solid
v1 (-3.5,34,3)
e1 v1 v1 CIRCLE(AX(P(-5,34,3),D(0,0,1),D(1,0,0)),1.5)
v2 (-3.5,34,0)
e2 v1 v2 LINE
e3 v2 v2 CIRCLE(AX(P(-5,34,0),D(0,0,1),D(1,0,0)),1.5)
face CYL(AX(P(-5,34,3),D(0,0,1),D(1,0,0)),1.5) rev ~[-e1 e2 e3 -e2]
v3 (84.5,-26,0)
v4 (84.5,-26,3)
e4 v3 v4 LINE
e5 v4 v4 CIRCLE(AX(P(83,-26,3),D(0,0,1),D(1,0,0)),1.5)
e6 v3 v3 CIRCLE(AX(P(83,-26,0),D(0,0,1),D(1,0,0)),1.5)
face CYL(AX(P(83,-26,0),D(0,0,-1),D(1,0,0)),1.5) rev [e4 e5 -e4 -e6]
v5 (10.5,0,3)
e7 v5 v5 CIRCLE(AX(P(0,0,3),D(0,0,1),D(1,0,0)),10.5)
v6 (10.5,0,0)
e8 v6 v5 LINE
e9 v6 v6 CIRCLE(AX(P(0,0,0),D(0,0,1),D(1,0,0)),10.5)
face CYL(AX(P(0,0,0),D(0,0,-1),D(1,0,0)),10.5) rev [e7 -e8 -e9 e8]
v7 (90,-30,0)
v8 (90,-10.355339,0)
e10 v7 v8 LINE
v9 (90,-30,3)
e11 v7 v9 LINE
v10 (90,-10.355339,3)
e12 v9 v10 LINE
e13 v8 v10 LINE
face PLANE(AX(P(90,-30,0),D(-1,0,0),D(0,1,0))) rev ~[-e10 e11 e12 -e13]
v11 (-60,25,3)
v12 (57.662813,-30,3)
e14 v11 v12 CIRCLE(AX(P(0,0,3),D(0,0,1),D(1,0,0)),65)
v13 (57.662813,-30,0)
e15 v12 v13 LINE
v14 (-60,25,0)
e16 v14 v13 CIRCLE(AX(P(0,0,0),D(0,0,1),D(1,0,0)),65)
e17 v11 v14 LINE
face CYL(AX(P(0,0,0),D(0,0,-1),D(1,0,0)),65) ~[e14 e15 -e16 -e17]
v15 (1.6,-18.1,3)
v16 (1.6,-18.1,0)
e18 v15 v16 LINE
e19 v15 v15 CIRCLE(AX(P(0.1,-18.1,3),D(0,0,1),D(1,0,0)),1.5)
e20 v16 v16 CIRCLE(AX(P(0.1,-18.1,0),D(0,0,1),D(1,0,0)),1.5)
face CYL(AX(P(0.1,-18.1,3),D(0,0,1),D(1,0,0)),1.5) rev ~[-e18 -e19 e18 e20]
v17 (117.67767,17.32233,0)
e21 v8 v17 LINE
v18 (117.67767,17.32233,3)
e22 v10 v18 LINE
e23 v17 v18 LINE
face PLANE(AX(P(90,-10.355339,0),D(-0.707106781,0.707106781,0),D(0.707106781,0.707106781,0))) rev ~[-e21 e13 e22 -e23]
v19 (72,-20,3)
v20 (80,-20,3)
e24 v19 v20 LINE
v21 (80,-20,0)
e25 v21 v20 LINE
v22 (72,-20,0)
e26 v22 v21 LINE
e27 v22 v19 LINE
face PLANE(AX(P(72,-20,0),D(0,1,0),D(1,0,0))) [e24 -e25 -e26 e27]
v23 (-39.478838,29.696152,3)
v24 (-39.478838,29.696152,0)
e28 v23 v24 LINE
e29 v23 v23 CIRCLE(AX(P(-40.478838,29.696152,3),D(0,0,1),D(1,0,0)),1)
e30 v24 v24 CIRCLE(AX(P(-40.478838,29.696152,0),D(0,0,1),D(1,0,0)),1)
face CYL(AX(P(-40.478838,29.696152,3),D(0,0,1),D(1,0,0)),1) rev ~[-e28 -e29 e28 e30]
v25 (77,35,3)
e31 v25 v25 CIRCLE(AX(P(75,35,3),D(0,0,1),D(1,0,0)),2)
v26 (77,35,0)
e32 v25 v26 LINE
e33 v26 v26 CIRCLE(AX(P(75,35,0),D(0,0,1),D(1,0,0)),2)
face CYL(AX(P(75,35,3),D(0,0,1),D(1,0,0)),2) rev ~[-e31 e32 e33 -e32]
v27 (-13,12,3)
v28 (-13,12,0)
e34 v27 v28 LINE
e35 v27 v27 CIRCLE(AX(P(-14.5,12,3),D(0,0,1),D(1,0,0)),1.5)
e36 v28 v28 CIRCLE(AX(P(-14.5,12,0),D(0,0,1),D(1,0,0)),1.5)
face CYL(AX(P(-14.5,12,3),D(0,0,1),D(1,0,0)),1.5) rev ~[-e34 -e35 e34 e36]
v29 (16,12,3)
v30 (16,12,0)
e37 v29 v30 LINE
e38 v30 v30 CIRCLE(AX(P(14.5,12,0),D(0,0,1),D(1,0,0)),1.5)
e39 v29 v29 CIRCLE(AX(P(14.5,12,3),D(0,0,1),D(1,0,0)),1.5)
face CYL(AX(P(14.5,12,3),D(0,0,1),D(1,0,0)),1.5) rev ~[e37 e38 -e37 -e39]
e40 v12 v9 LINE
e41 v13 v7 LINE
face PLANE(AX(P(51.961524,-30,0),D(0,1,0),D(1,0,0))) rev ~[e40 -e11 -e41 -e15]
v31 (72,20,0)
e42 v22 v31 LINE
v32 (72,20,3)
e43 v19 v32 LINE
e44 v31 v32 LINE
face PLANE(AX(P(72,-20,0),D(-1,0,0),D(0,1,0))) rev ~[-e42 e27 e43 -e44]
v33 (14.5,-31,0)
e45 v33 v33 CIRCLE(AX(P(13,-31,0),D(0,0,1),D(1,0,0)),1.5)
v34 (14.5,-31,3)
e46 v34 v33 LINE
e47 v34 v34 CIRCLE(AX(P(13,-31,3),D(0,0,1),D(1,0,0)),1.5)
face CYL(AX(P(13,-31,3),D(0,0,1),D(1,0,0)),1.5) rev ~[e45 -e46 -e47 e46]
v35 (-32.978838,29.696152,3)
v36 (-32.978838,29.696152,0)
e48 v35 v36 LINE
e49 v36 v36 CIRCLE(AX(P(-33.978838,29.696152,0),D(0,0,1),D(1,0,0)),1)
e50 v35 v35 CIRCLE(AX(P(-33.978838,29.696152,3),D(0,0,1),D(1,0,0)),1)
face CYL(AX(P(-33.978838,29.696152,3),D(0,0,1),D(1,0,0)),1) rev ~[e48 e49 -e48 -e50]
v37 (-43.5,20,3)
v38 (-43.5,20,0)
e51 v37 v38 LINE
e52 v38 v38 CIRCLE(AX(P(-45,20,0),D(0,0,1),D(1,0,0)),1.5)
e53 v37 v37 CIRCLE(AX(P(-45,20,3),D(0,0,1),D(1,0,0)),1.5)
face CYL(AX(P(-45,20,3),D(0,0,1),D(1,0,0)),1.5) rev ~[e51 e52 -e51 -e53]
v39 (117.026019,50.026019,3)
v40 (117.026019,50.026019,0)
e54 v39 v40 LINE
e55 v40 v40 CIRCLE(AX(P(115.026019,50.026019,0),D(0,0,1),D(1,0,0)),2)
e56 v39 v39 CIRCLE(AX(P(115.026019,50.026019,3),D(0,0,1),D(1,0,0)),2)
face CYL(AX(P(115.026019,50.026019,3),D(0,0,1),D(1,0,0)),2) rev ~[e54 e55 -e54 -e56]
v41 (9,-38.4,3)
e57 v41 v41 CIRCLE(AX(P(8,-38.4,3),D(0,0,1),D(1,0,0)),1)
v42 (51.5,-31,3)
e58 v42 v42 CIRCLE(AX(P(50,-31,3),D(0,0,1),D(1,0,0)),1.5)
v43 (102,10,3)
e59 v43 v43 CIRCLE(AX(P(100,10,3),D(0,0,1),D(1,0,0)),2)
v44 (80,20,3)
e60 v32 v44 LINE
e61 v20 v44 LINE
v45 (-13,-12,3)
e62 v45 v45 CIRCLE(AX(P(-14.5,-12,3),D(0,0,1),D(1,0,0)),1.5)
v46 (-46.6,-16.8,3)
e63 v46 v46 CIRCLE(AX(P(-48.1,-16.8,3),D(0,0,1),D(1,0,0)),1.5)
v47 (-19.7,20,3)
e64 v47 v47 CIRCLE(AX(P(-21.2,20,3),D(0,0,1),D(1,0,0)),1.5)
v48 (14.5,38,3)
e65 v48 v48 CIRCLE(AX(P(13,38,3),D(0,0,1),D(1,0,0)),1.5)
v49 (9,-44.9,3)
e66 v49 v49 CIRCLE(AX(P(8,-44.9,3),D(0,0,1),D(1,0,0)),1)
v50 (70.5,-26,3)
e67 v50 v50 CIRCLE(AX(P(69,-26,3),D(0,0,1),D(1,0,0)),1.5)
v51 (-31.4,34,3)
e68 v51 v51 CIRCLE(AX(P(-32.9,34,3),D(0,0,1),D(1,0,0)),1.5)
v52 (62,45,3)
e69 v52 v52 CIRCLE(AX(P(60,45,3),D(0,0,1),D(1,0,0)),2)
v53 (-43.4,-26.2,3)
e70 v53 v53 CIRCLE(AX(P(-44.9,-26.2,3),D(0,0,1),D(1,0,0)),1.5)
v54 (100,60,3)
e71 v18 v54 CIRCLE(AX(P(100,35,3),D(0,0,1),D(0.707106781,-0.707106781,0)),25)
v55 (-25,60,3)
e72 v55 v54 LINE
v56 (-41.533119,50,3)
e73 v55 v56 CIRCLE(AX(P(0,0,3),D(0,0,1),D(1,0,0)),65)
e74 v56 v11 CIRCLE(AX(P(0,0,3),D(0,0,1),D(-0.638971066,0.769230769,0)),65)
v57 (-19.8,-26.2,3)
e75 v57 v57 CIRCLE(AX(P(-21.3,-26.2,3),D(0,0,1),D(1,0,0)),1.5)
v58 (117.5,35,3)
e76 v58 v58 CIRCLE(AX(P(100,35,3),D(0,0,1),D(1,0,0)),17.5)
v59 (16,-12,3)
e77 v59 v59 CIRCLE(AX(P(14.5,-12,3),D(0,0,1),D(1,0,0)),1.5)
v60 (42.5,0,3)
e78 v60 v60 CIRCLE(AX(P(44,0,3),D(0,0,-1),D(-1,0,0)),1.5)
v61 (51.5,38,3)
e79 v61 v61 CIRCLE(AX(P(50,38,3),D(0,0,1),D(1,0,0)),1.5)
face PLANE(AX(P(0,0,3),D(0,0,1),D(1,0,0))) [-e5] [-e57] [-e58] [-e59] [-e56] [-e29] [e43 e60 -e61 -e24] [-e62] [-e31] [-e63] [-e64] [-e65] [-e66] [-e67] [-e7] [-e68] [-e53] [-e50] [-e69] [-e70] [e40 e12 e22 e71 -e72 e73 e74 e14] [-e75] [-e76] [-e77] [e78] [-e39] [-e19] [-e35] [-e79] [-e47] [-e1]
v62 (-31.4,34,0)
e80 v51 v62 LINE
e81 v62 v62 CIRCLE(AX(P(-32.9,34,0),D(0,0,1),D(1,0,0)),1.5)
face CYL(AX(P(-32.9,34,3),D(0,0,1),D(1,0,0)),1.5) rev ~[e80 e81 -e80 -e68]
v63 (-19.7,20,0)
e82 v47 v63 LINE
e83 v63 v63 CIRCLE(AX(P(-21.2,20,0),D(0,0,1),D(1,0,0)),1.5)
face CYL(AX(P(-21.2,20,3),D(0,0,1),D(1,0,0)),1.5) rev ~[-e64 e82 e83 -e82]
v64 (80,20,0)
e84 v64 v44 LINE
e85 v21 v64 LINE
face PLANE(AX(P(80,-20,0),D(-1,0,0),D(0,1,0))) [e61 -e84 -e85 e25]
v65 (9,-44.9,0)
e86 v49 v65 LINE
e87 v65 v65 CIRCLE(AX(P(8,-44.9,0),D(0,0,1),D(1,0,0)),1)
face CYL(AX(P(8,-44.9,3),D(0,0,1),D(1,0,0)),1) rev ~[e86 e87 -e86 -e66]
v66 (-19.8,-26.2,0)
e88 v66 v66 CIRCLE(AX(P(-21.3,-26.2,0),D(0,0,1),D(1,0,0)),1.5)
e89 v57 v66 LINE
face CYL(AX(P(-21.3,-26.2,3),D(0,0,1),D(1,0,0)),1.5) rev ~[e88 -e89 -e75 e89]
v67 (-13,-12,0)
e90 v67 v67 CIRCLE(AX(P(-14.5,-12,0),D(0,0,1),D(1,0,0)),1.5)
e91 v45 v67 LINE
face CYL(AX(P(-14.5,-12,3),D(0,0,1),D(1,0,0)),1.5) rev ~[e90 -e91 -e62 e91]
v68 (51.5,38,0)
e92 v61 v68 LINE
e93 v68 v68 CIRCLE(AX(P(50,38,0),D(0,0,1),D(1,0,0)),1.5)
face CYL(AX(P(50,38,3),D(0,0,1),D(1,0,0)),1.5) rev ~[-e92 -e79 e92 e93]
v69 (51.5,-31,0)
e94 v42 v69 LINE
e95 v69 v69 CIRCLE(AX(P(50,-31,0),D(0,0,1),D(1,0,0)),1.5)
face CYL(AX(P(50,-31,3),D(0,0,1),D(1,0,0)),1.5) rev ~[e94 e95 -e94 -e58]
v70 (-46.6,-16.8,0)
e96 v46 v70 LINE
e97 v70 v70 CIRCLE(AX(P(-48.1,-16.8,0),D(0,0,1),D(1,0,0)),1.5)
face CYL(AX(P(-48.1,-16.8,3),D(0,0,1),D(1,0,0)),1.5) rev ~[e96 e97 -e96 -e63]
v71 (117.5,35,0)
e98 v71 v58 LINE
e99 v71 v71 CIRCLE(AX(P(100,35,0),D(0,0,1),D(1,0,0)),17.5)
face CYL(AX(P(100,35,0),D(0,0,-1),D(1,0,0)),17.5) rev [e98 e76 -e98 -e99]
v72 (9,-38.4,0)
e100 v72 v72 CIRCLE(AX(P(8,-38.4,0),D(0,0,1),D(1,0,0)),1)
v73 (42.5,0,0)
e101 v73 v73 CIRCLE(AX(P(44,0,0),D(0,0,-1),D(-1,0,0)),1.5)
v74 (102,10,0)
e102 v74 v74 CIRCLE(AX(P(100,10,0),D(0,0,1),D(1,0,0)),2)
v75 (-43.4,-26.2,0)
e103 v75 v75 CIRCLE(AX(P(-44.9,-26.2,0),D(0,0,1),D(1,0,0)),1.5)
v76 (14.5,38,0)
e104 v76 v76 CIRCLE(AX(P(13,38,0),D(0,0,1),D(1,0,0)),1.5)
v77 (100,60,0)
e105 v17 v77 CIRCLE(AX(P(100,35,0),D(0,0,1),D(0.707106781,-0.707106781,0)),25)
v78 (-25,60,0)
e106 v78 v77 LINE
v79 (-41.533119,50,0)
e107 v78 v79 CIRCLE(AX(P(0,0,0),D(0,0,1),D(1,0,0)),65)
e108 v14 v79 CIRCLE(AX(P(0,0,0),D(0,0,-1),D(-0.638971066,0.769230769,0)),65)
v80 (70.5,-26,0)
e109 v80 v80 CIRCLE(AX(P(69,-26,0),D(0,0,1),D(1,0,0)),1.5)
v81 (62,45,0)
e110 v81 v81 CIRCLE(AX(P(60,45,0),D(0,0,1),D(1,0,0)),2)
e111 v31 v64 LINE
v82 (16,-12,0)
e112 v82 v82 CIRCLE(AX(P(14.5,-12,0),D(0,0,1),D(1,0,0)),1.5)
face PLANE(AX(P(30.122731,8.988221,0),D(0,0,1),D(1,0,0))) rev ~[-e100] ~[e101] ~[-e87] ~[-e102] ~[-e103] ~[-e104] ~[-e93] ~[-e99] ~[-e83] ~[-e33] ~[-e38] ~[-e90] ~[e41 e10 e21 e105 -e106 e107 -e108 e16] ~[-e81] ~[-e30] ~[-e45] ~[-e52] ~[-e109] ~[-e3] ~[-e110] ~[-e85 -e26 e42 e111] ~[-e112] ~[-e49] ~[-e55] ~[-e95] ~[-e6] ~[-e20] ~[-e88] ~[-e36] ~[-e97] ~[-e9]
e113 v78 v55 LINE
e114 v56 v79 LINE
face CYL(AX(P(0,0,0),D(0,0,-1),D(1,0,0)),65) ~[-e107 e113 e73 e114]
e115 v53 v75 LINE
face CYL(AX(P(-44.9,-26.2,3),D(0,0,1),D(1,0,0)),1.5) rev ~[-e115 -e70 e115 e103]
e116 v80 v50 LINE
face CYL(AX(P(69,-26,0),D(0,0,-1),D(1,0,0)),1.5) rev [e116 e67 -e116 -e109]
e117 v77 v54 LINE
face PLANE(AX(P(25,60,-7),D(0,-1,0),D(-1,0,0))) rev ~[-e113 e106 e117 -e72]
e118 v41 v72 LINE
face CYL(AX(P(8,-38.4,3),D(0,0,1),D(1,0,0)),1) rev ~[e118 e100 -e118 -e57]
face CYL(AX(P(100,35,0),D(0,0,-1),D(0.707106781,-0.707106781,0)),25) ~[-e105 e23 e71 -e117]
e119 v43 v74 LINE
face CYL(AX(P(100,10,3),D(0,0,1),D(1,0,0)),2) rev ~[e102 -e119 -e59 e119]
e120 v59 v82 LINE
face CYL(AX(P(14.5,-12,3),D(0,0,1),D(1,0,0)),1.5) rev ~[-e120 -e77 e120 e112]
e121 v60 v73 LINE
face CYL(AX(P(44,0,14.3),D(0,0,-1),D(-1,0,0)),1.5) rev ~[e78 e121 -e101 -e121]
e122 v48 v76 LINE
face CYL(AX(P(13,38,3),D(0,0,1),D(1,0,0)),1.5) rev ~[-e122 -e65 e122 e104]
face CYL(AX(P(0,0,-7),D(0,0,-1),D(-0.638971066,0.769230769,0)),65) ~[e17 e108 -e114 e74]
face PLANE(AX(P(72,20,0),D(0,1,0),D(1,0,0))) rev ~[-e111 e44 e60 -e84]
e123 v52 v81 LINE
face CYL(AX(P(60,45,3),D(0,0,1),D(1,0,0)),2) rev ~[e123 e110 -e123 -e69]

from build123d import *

# Parameters (mm, degrees)
SKETCH1_R                 = 10.5
SKETCH1_R_2               = 1.5
SKETCH1_W                 = 8
SKETCH1_H                 = 40
SKETCH1_R_3               = 17.5
BOSS_EXTRUDE1_DEPTH       = 3
CUT_EXTRUDE1_REACH        = 140.687
SKETCH2_R                 = 2
CUT_EXTRUDE2_REACH        = 140.687
SKETCH3_R                 = 2
BOSS_EXTRUDE2_START       = -3
SKETCH4_R                 = 65
SKETCH4_R_2               = 60
BOSS_EXTRUDE2_DEPTH       = 3
CUT_EXTRUDE3_START        = -10
CUT_EXTRUDE3_DEPTH        = 10
CUT_EXTRUDE4_START        = -10
CUT_EXTRUDE4_DEPTH        = 10
CUT_EXTRUDE5_REACH        = 142.922
SKETCH7_R                 = 1.5
CUT_EXTRUDE6_REACH        = 142.922
SKETCH8_R                 = 1.5
CUT_EXTRUDE7_REACH        = 142.922
SKETCH9_R                 = 1.5
F_3_0MM_DOWEL_HOLE1_D     = 3
F_3_0MM_DOWEL_HOLE1_DEPTH = 11.3
F_3_0MM_DOWEL_HOLE1_TIP   = 0.901290929
CUT_EXTRUDE8_REACH        = 142.922
SKETCH13_R                = 1


with BuildPart() as part:
    # Sketch1 → Boss-Extrude1 (new body)
    # profile 1 of 2: a face of its own
    with BuildSketch(Plane.XY):
        with BuildLine():
            ThreePointArc((-60, 0), (-52.867640737, 28.372743309), (-33.166247904, 50))
            Line((-33.166247904, 50), (-60, 50))
            Line((-60, 50), (-60, 0))
        make_face()
    # profile 2 of 2: a face of its own
    with BuildSketch(Plane.XY):
        with BuildLine():
            ThreePointArc((0, 60), (-17.320508076, 57.445626465), (-33.166247904, 50))
            ThreePointArc((-33.166247904, 50), (-52.867640737, 28.372743309), (-60, 0))
            ThreePointArc((-60, 0), (-15.529142706, -57.955549577), (51.961524227, -30))
            Line((51.961524227, -30), (56.568542495, -30))
            Line((56.568542495, -30), (90, -30))
            Line((90, -30), (90, -10.355339059))
            Line((90, -10.355339059), (117.67766953, 17.32233047))
            ThreePointArc((117.67766953, 17.32233047), (123.096988313, 44.567085809), (100, 60))
            Line((100, 60), (0, 60))
        make_face()
        Circle(SKETCH1_R, mode=Mode.SUBTRACT)
        with Locations((69, -26)):
            Circle(SKETCH1_R_2, mode=Mode.SUBTRACT)
        with Locations((76, 0)):
            Rectangle(SKETCH1_W, SKETCH1_H, mode=Mode.SUBTRACT)
        with Locations((83, -26)):
            Circle(SKETCH1_R_2, mode=Mode.SUBTRACT)
        with Locations((100, 35)):
            Circle(SKETCH1_R_3, mode=Mode.SUBTRACT)
    extrude(amount=BOSS_EXTRUDE1_DEPTH)

    # Sketch2 → Cut-Extrude1 (cut, up to next)
    with BuildSketch(Plane.XY.offset(3), mode=Mode.PRIVATE) as cut_extrude1_sk1:
        with Locations((60, 45)):
            Circle(SKETCH2_R)
    cut_extrude1_tool1 = extrude(cut_extrude1_sk1.sketch, amount=-CUT_EXTRUDE1_REACH, mode=Mode.PRIVATE) & part.part
    add(cut_extrude1_tool1.solids().sort_by_distance((60, 45, 3))[0], mode=Mode.SUBTRACT)

    # Sketch3 → Cut-Extrude2 (cut, up to next)
    with BuildSketch(Plane.XY.offset(3), mode=Mode.PRIVATE) as cut_extrude2_sk1:
        with Locations((100, 10)):
            Circle(SKETCH3_R)
    cut_extrude2_tool1 = extrude(cut_extrude2_sk1.sketch, amount=-CUT_EXTRUDE2_REACH, mode=Mode.PRIVATE) & part.part
    # Sketch3 → Cut-Extrude2 (cut, up to next)
    with BuildSketch(Plane.XY.offset(3), mode=Mode.PRIVATE) as cut_extrude2_sk2:
        with Locations((75, 35)):
            Circle(SKETCH3_R)
    cut_extrude2_tool2 = extrude(cut_extrude2_sk2.sketch, amount=-CUT_EXTRUDE2_REACH, mode=Mode.PRIVATE) & part.part
    # Sketch3 → Cut-Extrude2 (cut, up to next)
    with BuildSketch(Plane.XY.offset(3), mode=Mode.PRIVATE) as cut_extrude2_sk3:
        with Locations((115.0260191, 50.0260191)):
            Circle(SKETCH3_R)
    cut_extrude2_tool3 = extrude(cut_extrude2_sk3.sketch, amount=-CUT_EXTRUDE2_REACH, mode=Mode.PRIVATE) & part.part
    add(cut_extrude2_tool1.solids().sort_by_distance((100, 10, 3))[0], mode=Mode.SUBTRACT)
    add(cut_extrude2_tool2.solids().sort_by_distance((75, 35, 3))[0], mode=Mode.SUBTRACT)
    add(cut_extrude2_tool3.solids().sort_by_distance((115.026019, 50.026019, 3))[0], mode=Mode.SUBTRACT)

    # Sketch4 → Boss-Extrude2 (add)
    with BuildSketch(Plane.XY.offset(3).offset(BOSS_EXTRUDE2_START)):
        Circle(SKETCH4_R)
        Circle(SKETCH4_R_2, mode=Mode.SUBTRACT)
    extrude(amount=BOSS_EXTRUDE2_DEPTH)

    # Sketch5 → Cut-Extrude3 (cut)
    with BuildSketch(Plane.XY.offset(3).offset(CUT_EXTRUDE3_START)):
        with BuildLine():
            Line((-60, 50), (-41.533119315, 50))
            ThreePointArc((-41.533119315, 50), (-52.282822987, 38.62002616), (-60, 25))
            Line((-60, 25), (-60, 50))
        make_face()
    extrude(amount=CUT_EXTRUDE3_DEPTH, mode=Mode.SUBTRACT)

    # Sketch6 → Cut-Extrude4 (cut)
    with BuildSketch(Plane.XY.offset(3).offset(CUT_EXTRUDE4_START)):
        with BuildLine():
            Line((25, 60), (-25, 60))
            ThreePointArc((-25, 60), (0, 65), (25, 60))
        make_face()
    extrude(amount=CUT_EXTRUDE4_DEPTH, mode=Mode.SUBTRACT)

    # Sketch7 → Cut-Extrude5 (cut, up to next)
    with BuildSketch(Plane.XY.offset(3), mode=Mode.PRIVATE) as cut_extrude5_sk1:
        with Locations((-14.5, 12)):
            Circle(SKETCH7_R)
    cut_extrude5_tool1 = extrude(cut_extrude5_sk1.sketch, amount=-CUT_EXTRUDE5_REACH, mode=Mode.PRIVATE) & part.part
    # Sketch7 → Cut-Extrude5 (cut, up to next)
    with BuildSketch(Plane.XY.offset(3), mode=Mode.PRIVATE) as cut_extrude5_sk2:
        with Locations((14.5, 12)):
            Circle(SKETCH7_R)
    cut_extrude5_tool2 = extrude(cut_extrude5_sk2.sketch, amount=-CUT_EXTRUDE5_REACH, mode=Mode.PRIVATE) & part.part
    # Sketch7 → Cut-Extrude5 (cut, up to next)
    with BuildSketch(Plane.XY.offset(3), mode=Mode.PRIVATE) as cut_extrude5_sk3:
        with Locations((-14.5, -12)):
            Circle(SKETCH7_R)
    cut_extrude5_tool3 = extrude(cut_extrude5_sk3.sketch, amount=-CUT_EXTRUDE5_REACH, mode=Mode.PRIVATE) & part.part
    # Sketch7 → Cut-Extrude5 (cut, up to next)
    with BuildSketch(Plane.XY.offset(3), mode=Mode.PRIVATE) as cut_extrude5_sk4:
        with Locations((14.5, -12)):
            Circle(SKETCH7_R)
    cut_extrude5_tool4 = extrude(cut_extrude5_sk4.sketch, amount=-CUT_EXTRUDE5_REACH, mode=Mode.PRIVATE) & part.part
    add(cut_extrude5_tool1.solids().sort_by_distance((-14.5, 12, 3))[0], mode=Mode.SUBTRACT)
    add(cut_extrude5_tool2.solids().sort_by_distance((14.5, 12, 3))[0], mode=Mode.SUBTRACT)
    add(cut_extrude5_tool3.solids().sort_by_distance((-14.5, -12, 3))[0], mode=Mode.SUBTRACT)
    add(cut_extrude5_tool4.solids().sort_by_distance((14.5, -12, 3))[0], mode=Mode.SUBTRACT)

    # Sketch8 → Cut-Extrude6 (cut, up to next)
    with BuildSketch(Plane.XY.offset(3), mode=Mode.PRIVATE) as cut_extrude6_sk1:
        with Locations((50, 38)):
            Circle(SKETCH8_R)
    cut_extrude6_tool1 = extrude(cut_extrude6_sk1.sketch, amount=-CUT_EXTRUDE6_REACH, mode=Mode.PRIVATE) & part.part
    # Sketch8 → Cut-Extrude6 (cut, up to next)
    with BuildSketch(Plane.XY.offset(3), mode=Mode.PRIVATE) as cut_extrude6_sk2:
        with Locations((13, 38)):
            Circle(SKETCH8_R)
    cut_extrude6_tool2 = extrude(cut_extrude6_sk2.sketch, amount=-CUT_EXTRUDE6_REACH, mode=Mode.PRIVATE) & part.part
    # Sketch8 → Cut-Extrude6 (cut, up to next)
    with BuildSketch(Plane.XY.offset(3), mode=Mode.PRIVATE) as cut_extrude6_sk3:
        with Locations((50, -31)):
            Circle(SKETCH8_R)
    cut_extrude6_tool3 = extrude(cut_extrude6_sk3.sketch, amount=-CUT_EXTRUDE6_REACH, mode=Mode.PRIVATE) & part.part
    # Sketch8 → Cut-Extrude6 (cut, up to next)
    with BuildSketch(Plane.XY.offset(3), mode=Mode.PRIVATE) as cut_extrude6_sk4:
        with Locations((13, -31)):
            Circle(SKETCH8_R)
    cut_extrude6_tool4 = extrude(cut_extrude6_sk4.sketch, amount=-CUT_EXTRUDE6_REACH, mode=Mode.PRIVATE) & part.part
    # Sketch8 → Cut-Extrude6 (cut, up to next)
    with BuildSketch(Plane.XY.offset(3), mode=Mode.PRIVATE) as cut_extrude6_sk5:
        with Locations((-5, 34)):
            Circle(SKETCH8_R)
    cut_extrude6_tool5 = extrude(cut_extrude6_sk5.sketch, amount=-CUT_EXTRUDE6_REACH, mode=Mode.PRIVATE) & part.part
    # Sketch8 → Cut-Extrude6 (cut, up to next)
    with BuildSketch(Plane.XY.offset(3), mode=Mode.PRIVATE) as cut_extrude6_sk6:
        with Locations((-32.9, 34)):
            Circle(SKETCH8_R)
    cut_extrude6_tool6 = extrude(cut_extrude6_sk6.sketch, amount=-CUT_EXTRUDE6_REACH, mode=Mode.PRIVATE) & part.part
    # Sketch8 → Cut-Extrude6 (cut, up to next)
    with BuildSketch(Plane.XY.offset(3), mode=Mode.PRIVATE) as cut_extrude6_sk7:
        with Locations((0.1, -18.1)):
            Circle(SKETCH8_R)
    cut_extrude6_tool7 = extrude(cut_extrude6_sk7.sketch, amount=-CUT_EXTRUDE6_REACH, mode=Mode.PRIVATE) & part.part
    # Sketch8 → Cut-Extrude6 (cut, up to next)
    with BuildSketch(Plane.XY.offset(3), mode=Mode.PRIVATE) as cut_extrude6_sk8:
        with Locations((-48.1, -16.8)):
            Circle(SKETCH8_R)
    cut_extrude6_tool8 = extrude(cut_extrude6_sk8.sketch, amount=-CUT_EXTRUDE6_REACH, mode=Mode.PRIVATE) & part.part
    add(cut_extrude6_tool1.solids().sort_by_distance((50, 38, 3))[0], mode=Mode.SUBTRACT)
    add(cut_extrude6_tool2.solids().sort_by_distance((13, 38, 3))[0], mode=Mode.SUBTRACT)
    add(cut_extrude6_tool3.solids().sort_by_distance((50, -31, 3))[0], mode=Mode.SUBTRACT)
    add(cut_extrude6_tool4.solids().sort_by_distance((13, -31, 3))[0], mode=Mode.SUBTRACT)
    add(cut_extrude6_tool5.solids().sort_by_distance((-5, 34, 3))[0], mode=Mode.SUBTRACT)
    add(cut_extrude6_tool6.solids().sort_by_distance((-32.9, 34, 3))[0], mode=Mode.SUBTRACT)
    add(cut_extrude6_tool7.solids().sort_by_distance((0.1, -18.1, 3))[0], mode=Mode.SUBTRACT)
    add(cut_extrude6_tool8.solids().sort_by_distance((-48.1, -16.8, 3))[0], mode=Mode.SUBTRACT)

    # Sketch9 → Cut-Extrude7 (cut, up to next)
    with BuildSketch(Plane.XY.offset(3), mode=Mode.PRIVATE) as cut_extrude7_sk1:
        with Locations((-21.3, -26.2)):
            Circle(SKETCH9_R)
    cut_extrude7_tool1 = extrude(cut_extrude7_sk1.sketch, amount=-CUT_EXTRUDE7_REACH, mode=Mode.PRIVATE) & part.part
    # Sketch9 → Cut-Extrude7 (cut, up to next)
    with BuildSketch(Plane.XY.offset(3), mode=Mode.PRIVATE) as cut_extrude7_sk2:
        with Locations((-21.2, 20)):
            Circle(SKETCH9_R)
    cut_extrude7_tool2 = extrude(cut_extrude7_sk2.sketch, amount=-CUT_EXTRUDE7_REACH, mode=Mode.PRIVATE) & part.part
    # Sketch9 → Cut-Extrude7 (cut, up to next)
    with BuildSketch(Plane.XY.offset(3), mode=Mode.PRIVATE) as cut_extrude7_sk3:
        with Locations((-45, 20)):
            Circle(SKETCH9_R)
    cut_extrude7_tool3 = extrude(cut_extrude7_sk3.sketch, amount=-CUT_EXTRUDE7_REACH, mode=Mode.PRIVATE) & part.part
    # Sketch9 → Cut-Extrude7 (cut, up to next)
    with BuildSketch(Plane.XY.offset(3), mode=Mode.PRIVATE) as cut_extrude7_sk4:
        with Locations((-44.9, -26.2)):
            Circle(SKETCH9_R)
    cut_extrude7_tool4 = extrude(cut_extrude7_sk4.sketch, amount=-CUT_EXTRUDE7_REACH, mode=Mode.PRIVATE) & part.part
    add(cut_extrude7_tool1.solids().sort_by_distance((-21.3, -26.2, 3))[0], mode=Mode.SUBTRACT)
    add(cut_extrude7_tool2.solids().sort_by_distance((-21.2, 20, 3))[0], mode=Mode.SUBTRACT)
    add(cut_extrude7_tool3.solids().sort_by_distance((-45, 20, 3))[0], mode=Mode.SUBTRACT)
    add(cut_extrude7_tool4.solids().sort_by_distance((-44.9, -26.2, 3))[0], mode=Mode.SUBTRACT)

    # Ø3.0mm Dowel Hole1
    with Locations(Plane.XY.offset(3)):
        with Locations((44, 0)):
            Hole(F_3_0MM_DOWEL_HOLE1_D / 2, depth=F_3_0MM_DOWEL_HOLE1_DEPTH)
            with Locations((0, 0, -(F_3_0MM_DOWEL_HOLE1_DEPTH + F_3_0MM_DOWEL_HOLE1_TIP / 2))):  # 118° drill point
                Cone(0, F_3_0MM_DOWEL_HOLE1_D / 2, F_3_0MM_DOWEL_HOLE1_TIP, mode=Mode.SUBTRACT)

    # Sketch13 → Cut-Extrude8 (cut, up to next)
    with BuildSketch(Plane.XY.offset(3), mode=Mode.PRIVATE) as cut_extrude8_sk1:
        with Locations((-40.478838325, 29.696152423)):
            Circle(SKETCH13_R)
    cut_extrude8_tool1 = extrude(cut_extrude8_sk1.sketch, amount=-CUT_EXTRUDE8_REACH, mode=Mode.PRIVATE) & part.part
    # Sketch13 → Cut-Extrude8 (cut, up to next)
    with BuildSketch(Plane.XY.offset(3), mode=Mode.PRIVATE) as cut_extrude8_sk2:
        with Locations((-33.978838325, 29.696152423)):
            Circle(SKETCH13_R)
    cut_extrude8_tool2 = extrude(cut_extrude8_sk2.sketch, amount=-CUT_EXTRUDE8_REACH, mode=Mode.PRIVATE) & part.part
    # Sketch13 → Cut-Extrude8 (cut, up to next)
    with BuildSketch(Plane.XY.offset(3), mode=Mode.PRIVATE) as cut_extrude8_sk3:
        with Locations((8, -38.4)):
            Circle(SKETCH13_R)
    cut_extrude8_tool3 = extrude(cut_extrude8_sk3.sketch, amount=-CUT_EXTRUDE8_REACH, mode=Mode.PRIVATE) & part.part
    # Sketch13 → Cut-Extrude8 (cut, up to next)
    with BuildSketch(Plane.XY.offset(3), mode=Mode.PRIVATE) as cut_extrude8_sk4:
        with Locations((8, -44.9)):
            Circle(SKETCH13_R)
    cut_extrude8_tool4 = extrude(cut_extrude8_sk4.sketch, amount=-CUT_EXTRUDE8_REACH, mode=Mode.PRIVATE) & part.part
    add(cut_extrude8_tool1.solids().sort_by_distance((-40.478838, 29.696152, 3))[0], mode=Mode.SUBTRACT)
    add(cut_extrude8_tool2.solids().sort_by_distance((-33.978838, 29.696152, 3))[0], mode=Mode.SUBTRACT)
    add(cut_extrude8_tool3.solids().sort_by_distance((8, -38.4, 3))[0], mode=Mode.SUBTRACT)
    add(cut_extrude8_tool4.solids().sort_by_distance((8, -44.9, 3))[0], mode=Mode.SUBTRACT)


solid = part.part
